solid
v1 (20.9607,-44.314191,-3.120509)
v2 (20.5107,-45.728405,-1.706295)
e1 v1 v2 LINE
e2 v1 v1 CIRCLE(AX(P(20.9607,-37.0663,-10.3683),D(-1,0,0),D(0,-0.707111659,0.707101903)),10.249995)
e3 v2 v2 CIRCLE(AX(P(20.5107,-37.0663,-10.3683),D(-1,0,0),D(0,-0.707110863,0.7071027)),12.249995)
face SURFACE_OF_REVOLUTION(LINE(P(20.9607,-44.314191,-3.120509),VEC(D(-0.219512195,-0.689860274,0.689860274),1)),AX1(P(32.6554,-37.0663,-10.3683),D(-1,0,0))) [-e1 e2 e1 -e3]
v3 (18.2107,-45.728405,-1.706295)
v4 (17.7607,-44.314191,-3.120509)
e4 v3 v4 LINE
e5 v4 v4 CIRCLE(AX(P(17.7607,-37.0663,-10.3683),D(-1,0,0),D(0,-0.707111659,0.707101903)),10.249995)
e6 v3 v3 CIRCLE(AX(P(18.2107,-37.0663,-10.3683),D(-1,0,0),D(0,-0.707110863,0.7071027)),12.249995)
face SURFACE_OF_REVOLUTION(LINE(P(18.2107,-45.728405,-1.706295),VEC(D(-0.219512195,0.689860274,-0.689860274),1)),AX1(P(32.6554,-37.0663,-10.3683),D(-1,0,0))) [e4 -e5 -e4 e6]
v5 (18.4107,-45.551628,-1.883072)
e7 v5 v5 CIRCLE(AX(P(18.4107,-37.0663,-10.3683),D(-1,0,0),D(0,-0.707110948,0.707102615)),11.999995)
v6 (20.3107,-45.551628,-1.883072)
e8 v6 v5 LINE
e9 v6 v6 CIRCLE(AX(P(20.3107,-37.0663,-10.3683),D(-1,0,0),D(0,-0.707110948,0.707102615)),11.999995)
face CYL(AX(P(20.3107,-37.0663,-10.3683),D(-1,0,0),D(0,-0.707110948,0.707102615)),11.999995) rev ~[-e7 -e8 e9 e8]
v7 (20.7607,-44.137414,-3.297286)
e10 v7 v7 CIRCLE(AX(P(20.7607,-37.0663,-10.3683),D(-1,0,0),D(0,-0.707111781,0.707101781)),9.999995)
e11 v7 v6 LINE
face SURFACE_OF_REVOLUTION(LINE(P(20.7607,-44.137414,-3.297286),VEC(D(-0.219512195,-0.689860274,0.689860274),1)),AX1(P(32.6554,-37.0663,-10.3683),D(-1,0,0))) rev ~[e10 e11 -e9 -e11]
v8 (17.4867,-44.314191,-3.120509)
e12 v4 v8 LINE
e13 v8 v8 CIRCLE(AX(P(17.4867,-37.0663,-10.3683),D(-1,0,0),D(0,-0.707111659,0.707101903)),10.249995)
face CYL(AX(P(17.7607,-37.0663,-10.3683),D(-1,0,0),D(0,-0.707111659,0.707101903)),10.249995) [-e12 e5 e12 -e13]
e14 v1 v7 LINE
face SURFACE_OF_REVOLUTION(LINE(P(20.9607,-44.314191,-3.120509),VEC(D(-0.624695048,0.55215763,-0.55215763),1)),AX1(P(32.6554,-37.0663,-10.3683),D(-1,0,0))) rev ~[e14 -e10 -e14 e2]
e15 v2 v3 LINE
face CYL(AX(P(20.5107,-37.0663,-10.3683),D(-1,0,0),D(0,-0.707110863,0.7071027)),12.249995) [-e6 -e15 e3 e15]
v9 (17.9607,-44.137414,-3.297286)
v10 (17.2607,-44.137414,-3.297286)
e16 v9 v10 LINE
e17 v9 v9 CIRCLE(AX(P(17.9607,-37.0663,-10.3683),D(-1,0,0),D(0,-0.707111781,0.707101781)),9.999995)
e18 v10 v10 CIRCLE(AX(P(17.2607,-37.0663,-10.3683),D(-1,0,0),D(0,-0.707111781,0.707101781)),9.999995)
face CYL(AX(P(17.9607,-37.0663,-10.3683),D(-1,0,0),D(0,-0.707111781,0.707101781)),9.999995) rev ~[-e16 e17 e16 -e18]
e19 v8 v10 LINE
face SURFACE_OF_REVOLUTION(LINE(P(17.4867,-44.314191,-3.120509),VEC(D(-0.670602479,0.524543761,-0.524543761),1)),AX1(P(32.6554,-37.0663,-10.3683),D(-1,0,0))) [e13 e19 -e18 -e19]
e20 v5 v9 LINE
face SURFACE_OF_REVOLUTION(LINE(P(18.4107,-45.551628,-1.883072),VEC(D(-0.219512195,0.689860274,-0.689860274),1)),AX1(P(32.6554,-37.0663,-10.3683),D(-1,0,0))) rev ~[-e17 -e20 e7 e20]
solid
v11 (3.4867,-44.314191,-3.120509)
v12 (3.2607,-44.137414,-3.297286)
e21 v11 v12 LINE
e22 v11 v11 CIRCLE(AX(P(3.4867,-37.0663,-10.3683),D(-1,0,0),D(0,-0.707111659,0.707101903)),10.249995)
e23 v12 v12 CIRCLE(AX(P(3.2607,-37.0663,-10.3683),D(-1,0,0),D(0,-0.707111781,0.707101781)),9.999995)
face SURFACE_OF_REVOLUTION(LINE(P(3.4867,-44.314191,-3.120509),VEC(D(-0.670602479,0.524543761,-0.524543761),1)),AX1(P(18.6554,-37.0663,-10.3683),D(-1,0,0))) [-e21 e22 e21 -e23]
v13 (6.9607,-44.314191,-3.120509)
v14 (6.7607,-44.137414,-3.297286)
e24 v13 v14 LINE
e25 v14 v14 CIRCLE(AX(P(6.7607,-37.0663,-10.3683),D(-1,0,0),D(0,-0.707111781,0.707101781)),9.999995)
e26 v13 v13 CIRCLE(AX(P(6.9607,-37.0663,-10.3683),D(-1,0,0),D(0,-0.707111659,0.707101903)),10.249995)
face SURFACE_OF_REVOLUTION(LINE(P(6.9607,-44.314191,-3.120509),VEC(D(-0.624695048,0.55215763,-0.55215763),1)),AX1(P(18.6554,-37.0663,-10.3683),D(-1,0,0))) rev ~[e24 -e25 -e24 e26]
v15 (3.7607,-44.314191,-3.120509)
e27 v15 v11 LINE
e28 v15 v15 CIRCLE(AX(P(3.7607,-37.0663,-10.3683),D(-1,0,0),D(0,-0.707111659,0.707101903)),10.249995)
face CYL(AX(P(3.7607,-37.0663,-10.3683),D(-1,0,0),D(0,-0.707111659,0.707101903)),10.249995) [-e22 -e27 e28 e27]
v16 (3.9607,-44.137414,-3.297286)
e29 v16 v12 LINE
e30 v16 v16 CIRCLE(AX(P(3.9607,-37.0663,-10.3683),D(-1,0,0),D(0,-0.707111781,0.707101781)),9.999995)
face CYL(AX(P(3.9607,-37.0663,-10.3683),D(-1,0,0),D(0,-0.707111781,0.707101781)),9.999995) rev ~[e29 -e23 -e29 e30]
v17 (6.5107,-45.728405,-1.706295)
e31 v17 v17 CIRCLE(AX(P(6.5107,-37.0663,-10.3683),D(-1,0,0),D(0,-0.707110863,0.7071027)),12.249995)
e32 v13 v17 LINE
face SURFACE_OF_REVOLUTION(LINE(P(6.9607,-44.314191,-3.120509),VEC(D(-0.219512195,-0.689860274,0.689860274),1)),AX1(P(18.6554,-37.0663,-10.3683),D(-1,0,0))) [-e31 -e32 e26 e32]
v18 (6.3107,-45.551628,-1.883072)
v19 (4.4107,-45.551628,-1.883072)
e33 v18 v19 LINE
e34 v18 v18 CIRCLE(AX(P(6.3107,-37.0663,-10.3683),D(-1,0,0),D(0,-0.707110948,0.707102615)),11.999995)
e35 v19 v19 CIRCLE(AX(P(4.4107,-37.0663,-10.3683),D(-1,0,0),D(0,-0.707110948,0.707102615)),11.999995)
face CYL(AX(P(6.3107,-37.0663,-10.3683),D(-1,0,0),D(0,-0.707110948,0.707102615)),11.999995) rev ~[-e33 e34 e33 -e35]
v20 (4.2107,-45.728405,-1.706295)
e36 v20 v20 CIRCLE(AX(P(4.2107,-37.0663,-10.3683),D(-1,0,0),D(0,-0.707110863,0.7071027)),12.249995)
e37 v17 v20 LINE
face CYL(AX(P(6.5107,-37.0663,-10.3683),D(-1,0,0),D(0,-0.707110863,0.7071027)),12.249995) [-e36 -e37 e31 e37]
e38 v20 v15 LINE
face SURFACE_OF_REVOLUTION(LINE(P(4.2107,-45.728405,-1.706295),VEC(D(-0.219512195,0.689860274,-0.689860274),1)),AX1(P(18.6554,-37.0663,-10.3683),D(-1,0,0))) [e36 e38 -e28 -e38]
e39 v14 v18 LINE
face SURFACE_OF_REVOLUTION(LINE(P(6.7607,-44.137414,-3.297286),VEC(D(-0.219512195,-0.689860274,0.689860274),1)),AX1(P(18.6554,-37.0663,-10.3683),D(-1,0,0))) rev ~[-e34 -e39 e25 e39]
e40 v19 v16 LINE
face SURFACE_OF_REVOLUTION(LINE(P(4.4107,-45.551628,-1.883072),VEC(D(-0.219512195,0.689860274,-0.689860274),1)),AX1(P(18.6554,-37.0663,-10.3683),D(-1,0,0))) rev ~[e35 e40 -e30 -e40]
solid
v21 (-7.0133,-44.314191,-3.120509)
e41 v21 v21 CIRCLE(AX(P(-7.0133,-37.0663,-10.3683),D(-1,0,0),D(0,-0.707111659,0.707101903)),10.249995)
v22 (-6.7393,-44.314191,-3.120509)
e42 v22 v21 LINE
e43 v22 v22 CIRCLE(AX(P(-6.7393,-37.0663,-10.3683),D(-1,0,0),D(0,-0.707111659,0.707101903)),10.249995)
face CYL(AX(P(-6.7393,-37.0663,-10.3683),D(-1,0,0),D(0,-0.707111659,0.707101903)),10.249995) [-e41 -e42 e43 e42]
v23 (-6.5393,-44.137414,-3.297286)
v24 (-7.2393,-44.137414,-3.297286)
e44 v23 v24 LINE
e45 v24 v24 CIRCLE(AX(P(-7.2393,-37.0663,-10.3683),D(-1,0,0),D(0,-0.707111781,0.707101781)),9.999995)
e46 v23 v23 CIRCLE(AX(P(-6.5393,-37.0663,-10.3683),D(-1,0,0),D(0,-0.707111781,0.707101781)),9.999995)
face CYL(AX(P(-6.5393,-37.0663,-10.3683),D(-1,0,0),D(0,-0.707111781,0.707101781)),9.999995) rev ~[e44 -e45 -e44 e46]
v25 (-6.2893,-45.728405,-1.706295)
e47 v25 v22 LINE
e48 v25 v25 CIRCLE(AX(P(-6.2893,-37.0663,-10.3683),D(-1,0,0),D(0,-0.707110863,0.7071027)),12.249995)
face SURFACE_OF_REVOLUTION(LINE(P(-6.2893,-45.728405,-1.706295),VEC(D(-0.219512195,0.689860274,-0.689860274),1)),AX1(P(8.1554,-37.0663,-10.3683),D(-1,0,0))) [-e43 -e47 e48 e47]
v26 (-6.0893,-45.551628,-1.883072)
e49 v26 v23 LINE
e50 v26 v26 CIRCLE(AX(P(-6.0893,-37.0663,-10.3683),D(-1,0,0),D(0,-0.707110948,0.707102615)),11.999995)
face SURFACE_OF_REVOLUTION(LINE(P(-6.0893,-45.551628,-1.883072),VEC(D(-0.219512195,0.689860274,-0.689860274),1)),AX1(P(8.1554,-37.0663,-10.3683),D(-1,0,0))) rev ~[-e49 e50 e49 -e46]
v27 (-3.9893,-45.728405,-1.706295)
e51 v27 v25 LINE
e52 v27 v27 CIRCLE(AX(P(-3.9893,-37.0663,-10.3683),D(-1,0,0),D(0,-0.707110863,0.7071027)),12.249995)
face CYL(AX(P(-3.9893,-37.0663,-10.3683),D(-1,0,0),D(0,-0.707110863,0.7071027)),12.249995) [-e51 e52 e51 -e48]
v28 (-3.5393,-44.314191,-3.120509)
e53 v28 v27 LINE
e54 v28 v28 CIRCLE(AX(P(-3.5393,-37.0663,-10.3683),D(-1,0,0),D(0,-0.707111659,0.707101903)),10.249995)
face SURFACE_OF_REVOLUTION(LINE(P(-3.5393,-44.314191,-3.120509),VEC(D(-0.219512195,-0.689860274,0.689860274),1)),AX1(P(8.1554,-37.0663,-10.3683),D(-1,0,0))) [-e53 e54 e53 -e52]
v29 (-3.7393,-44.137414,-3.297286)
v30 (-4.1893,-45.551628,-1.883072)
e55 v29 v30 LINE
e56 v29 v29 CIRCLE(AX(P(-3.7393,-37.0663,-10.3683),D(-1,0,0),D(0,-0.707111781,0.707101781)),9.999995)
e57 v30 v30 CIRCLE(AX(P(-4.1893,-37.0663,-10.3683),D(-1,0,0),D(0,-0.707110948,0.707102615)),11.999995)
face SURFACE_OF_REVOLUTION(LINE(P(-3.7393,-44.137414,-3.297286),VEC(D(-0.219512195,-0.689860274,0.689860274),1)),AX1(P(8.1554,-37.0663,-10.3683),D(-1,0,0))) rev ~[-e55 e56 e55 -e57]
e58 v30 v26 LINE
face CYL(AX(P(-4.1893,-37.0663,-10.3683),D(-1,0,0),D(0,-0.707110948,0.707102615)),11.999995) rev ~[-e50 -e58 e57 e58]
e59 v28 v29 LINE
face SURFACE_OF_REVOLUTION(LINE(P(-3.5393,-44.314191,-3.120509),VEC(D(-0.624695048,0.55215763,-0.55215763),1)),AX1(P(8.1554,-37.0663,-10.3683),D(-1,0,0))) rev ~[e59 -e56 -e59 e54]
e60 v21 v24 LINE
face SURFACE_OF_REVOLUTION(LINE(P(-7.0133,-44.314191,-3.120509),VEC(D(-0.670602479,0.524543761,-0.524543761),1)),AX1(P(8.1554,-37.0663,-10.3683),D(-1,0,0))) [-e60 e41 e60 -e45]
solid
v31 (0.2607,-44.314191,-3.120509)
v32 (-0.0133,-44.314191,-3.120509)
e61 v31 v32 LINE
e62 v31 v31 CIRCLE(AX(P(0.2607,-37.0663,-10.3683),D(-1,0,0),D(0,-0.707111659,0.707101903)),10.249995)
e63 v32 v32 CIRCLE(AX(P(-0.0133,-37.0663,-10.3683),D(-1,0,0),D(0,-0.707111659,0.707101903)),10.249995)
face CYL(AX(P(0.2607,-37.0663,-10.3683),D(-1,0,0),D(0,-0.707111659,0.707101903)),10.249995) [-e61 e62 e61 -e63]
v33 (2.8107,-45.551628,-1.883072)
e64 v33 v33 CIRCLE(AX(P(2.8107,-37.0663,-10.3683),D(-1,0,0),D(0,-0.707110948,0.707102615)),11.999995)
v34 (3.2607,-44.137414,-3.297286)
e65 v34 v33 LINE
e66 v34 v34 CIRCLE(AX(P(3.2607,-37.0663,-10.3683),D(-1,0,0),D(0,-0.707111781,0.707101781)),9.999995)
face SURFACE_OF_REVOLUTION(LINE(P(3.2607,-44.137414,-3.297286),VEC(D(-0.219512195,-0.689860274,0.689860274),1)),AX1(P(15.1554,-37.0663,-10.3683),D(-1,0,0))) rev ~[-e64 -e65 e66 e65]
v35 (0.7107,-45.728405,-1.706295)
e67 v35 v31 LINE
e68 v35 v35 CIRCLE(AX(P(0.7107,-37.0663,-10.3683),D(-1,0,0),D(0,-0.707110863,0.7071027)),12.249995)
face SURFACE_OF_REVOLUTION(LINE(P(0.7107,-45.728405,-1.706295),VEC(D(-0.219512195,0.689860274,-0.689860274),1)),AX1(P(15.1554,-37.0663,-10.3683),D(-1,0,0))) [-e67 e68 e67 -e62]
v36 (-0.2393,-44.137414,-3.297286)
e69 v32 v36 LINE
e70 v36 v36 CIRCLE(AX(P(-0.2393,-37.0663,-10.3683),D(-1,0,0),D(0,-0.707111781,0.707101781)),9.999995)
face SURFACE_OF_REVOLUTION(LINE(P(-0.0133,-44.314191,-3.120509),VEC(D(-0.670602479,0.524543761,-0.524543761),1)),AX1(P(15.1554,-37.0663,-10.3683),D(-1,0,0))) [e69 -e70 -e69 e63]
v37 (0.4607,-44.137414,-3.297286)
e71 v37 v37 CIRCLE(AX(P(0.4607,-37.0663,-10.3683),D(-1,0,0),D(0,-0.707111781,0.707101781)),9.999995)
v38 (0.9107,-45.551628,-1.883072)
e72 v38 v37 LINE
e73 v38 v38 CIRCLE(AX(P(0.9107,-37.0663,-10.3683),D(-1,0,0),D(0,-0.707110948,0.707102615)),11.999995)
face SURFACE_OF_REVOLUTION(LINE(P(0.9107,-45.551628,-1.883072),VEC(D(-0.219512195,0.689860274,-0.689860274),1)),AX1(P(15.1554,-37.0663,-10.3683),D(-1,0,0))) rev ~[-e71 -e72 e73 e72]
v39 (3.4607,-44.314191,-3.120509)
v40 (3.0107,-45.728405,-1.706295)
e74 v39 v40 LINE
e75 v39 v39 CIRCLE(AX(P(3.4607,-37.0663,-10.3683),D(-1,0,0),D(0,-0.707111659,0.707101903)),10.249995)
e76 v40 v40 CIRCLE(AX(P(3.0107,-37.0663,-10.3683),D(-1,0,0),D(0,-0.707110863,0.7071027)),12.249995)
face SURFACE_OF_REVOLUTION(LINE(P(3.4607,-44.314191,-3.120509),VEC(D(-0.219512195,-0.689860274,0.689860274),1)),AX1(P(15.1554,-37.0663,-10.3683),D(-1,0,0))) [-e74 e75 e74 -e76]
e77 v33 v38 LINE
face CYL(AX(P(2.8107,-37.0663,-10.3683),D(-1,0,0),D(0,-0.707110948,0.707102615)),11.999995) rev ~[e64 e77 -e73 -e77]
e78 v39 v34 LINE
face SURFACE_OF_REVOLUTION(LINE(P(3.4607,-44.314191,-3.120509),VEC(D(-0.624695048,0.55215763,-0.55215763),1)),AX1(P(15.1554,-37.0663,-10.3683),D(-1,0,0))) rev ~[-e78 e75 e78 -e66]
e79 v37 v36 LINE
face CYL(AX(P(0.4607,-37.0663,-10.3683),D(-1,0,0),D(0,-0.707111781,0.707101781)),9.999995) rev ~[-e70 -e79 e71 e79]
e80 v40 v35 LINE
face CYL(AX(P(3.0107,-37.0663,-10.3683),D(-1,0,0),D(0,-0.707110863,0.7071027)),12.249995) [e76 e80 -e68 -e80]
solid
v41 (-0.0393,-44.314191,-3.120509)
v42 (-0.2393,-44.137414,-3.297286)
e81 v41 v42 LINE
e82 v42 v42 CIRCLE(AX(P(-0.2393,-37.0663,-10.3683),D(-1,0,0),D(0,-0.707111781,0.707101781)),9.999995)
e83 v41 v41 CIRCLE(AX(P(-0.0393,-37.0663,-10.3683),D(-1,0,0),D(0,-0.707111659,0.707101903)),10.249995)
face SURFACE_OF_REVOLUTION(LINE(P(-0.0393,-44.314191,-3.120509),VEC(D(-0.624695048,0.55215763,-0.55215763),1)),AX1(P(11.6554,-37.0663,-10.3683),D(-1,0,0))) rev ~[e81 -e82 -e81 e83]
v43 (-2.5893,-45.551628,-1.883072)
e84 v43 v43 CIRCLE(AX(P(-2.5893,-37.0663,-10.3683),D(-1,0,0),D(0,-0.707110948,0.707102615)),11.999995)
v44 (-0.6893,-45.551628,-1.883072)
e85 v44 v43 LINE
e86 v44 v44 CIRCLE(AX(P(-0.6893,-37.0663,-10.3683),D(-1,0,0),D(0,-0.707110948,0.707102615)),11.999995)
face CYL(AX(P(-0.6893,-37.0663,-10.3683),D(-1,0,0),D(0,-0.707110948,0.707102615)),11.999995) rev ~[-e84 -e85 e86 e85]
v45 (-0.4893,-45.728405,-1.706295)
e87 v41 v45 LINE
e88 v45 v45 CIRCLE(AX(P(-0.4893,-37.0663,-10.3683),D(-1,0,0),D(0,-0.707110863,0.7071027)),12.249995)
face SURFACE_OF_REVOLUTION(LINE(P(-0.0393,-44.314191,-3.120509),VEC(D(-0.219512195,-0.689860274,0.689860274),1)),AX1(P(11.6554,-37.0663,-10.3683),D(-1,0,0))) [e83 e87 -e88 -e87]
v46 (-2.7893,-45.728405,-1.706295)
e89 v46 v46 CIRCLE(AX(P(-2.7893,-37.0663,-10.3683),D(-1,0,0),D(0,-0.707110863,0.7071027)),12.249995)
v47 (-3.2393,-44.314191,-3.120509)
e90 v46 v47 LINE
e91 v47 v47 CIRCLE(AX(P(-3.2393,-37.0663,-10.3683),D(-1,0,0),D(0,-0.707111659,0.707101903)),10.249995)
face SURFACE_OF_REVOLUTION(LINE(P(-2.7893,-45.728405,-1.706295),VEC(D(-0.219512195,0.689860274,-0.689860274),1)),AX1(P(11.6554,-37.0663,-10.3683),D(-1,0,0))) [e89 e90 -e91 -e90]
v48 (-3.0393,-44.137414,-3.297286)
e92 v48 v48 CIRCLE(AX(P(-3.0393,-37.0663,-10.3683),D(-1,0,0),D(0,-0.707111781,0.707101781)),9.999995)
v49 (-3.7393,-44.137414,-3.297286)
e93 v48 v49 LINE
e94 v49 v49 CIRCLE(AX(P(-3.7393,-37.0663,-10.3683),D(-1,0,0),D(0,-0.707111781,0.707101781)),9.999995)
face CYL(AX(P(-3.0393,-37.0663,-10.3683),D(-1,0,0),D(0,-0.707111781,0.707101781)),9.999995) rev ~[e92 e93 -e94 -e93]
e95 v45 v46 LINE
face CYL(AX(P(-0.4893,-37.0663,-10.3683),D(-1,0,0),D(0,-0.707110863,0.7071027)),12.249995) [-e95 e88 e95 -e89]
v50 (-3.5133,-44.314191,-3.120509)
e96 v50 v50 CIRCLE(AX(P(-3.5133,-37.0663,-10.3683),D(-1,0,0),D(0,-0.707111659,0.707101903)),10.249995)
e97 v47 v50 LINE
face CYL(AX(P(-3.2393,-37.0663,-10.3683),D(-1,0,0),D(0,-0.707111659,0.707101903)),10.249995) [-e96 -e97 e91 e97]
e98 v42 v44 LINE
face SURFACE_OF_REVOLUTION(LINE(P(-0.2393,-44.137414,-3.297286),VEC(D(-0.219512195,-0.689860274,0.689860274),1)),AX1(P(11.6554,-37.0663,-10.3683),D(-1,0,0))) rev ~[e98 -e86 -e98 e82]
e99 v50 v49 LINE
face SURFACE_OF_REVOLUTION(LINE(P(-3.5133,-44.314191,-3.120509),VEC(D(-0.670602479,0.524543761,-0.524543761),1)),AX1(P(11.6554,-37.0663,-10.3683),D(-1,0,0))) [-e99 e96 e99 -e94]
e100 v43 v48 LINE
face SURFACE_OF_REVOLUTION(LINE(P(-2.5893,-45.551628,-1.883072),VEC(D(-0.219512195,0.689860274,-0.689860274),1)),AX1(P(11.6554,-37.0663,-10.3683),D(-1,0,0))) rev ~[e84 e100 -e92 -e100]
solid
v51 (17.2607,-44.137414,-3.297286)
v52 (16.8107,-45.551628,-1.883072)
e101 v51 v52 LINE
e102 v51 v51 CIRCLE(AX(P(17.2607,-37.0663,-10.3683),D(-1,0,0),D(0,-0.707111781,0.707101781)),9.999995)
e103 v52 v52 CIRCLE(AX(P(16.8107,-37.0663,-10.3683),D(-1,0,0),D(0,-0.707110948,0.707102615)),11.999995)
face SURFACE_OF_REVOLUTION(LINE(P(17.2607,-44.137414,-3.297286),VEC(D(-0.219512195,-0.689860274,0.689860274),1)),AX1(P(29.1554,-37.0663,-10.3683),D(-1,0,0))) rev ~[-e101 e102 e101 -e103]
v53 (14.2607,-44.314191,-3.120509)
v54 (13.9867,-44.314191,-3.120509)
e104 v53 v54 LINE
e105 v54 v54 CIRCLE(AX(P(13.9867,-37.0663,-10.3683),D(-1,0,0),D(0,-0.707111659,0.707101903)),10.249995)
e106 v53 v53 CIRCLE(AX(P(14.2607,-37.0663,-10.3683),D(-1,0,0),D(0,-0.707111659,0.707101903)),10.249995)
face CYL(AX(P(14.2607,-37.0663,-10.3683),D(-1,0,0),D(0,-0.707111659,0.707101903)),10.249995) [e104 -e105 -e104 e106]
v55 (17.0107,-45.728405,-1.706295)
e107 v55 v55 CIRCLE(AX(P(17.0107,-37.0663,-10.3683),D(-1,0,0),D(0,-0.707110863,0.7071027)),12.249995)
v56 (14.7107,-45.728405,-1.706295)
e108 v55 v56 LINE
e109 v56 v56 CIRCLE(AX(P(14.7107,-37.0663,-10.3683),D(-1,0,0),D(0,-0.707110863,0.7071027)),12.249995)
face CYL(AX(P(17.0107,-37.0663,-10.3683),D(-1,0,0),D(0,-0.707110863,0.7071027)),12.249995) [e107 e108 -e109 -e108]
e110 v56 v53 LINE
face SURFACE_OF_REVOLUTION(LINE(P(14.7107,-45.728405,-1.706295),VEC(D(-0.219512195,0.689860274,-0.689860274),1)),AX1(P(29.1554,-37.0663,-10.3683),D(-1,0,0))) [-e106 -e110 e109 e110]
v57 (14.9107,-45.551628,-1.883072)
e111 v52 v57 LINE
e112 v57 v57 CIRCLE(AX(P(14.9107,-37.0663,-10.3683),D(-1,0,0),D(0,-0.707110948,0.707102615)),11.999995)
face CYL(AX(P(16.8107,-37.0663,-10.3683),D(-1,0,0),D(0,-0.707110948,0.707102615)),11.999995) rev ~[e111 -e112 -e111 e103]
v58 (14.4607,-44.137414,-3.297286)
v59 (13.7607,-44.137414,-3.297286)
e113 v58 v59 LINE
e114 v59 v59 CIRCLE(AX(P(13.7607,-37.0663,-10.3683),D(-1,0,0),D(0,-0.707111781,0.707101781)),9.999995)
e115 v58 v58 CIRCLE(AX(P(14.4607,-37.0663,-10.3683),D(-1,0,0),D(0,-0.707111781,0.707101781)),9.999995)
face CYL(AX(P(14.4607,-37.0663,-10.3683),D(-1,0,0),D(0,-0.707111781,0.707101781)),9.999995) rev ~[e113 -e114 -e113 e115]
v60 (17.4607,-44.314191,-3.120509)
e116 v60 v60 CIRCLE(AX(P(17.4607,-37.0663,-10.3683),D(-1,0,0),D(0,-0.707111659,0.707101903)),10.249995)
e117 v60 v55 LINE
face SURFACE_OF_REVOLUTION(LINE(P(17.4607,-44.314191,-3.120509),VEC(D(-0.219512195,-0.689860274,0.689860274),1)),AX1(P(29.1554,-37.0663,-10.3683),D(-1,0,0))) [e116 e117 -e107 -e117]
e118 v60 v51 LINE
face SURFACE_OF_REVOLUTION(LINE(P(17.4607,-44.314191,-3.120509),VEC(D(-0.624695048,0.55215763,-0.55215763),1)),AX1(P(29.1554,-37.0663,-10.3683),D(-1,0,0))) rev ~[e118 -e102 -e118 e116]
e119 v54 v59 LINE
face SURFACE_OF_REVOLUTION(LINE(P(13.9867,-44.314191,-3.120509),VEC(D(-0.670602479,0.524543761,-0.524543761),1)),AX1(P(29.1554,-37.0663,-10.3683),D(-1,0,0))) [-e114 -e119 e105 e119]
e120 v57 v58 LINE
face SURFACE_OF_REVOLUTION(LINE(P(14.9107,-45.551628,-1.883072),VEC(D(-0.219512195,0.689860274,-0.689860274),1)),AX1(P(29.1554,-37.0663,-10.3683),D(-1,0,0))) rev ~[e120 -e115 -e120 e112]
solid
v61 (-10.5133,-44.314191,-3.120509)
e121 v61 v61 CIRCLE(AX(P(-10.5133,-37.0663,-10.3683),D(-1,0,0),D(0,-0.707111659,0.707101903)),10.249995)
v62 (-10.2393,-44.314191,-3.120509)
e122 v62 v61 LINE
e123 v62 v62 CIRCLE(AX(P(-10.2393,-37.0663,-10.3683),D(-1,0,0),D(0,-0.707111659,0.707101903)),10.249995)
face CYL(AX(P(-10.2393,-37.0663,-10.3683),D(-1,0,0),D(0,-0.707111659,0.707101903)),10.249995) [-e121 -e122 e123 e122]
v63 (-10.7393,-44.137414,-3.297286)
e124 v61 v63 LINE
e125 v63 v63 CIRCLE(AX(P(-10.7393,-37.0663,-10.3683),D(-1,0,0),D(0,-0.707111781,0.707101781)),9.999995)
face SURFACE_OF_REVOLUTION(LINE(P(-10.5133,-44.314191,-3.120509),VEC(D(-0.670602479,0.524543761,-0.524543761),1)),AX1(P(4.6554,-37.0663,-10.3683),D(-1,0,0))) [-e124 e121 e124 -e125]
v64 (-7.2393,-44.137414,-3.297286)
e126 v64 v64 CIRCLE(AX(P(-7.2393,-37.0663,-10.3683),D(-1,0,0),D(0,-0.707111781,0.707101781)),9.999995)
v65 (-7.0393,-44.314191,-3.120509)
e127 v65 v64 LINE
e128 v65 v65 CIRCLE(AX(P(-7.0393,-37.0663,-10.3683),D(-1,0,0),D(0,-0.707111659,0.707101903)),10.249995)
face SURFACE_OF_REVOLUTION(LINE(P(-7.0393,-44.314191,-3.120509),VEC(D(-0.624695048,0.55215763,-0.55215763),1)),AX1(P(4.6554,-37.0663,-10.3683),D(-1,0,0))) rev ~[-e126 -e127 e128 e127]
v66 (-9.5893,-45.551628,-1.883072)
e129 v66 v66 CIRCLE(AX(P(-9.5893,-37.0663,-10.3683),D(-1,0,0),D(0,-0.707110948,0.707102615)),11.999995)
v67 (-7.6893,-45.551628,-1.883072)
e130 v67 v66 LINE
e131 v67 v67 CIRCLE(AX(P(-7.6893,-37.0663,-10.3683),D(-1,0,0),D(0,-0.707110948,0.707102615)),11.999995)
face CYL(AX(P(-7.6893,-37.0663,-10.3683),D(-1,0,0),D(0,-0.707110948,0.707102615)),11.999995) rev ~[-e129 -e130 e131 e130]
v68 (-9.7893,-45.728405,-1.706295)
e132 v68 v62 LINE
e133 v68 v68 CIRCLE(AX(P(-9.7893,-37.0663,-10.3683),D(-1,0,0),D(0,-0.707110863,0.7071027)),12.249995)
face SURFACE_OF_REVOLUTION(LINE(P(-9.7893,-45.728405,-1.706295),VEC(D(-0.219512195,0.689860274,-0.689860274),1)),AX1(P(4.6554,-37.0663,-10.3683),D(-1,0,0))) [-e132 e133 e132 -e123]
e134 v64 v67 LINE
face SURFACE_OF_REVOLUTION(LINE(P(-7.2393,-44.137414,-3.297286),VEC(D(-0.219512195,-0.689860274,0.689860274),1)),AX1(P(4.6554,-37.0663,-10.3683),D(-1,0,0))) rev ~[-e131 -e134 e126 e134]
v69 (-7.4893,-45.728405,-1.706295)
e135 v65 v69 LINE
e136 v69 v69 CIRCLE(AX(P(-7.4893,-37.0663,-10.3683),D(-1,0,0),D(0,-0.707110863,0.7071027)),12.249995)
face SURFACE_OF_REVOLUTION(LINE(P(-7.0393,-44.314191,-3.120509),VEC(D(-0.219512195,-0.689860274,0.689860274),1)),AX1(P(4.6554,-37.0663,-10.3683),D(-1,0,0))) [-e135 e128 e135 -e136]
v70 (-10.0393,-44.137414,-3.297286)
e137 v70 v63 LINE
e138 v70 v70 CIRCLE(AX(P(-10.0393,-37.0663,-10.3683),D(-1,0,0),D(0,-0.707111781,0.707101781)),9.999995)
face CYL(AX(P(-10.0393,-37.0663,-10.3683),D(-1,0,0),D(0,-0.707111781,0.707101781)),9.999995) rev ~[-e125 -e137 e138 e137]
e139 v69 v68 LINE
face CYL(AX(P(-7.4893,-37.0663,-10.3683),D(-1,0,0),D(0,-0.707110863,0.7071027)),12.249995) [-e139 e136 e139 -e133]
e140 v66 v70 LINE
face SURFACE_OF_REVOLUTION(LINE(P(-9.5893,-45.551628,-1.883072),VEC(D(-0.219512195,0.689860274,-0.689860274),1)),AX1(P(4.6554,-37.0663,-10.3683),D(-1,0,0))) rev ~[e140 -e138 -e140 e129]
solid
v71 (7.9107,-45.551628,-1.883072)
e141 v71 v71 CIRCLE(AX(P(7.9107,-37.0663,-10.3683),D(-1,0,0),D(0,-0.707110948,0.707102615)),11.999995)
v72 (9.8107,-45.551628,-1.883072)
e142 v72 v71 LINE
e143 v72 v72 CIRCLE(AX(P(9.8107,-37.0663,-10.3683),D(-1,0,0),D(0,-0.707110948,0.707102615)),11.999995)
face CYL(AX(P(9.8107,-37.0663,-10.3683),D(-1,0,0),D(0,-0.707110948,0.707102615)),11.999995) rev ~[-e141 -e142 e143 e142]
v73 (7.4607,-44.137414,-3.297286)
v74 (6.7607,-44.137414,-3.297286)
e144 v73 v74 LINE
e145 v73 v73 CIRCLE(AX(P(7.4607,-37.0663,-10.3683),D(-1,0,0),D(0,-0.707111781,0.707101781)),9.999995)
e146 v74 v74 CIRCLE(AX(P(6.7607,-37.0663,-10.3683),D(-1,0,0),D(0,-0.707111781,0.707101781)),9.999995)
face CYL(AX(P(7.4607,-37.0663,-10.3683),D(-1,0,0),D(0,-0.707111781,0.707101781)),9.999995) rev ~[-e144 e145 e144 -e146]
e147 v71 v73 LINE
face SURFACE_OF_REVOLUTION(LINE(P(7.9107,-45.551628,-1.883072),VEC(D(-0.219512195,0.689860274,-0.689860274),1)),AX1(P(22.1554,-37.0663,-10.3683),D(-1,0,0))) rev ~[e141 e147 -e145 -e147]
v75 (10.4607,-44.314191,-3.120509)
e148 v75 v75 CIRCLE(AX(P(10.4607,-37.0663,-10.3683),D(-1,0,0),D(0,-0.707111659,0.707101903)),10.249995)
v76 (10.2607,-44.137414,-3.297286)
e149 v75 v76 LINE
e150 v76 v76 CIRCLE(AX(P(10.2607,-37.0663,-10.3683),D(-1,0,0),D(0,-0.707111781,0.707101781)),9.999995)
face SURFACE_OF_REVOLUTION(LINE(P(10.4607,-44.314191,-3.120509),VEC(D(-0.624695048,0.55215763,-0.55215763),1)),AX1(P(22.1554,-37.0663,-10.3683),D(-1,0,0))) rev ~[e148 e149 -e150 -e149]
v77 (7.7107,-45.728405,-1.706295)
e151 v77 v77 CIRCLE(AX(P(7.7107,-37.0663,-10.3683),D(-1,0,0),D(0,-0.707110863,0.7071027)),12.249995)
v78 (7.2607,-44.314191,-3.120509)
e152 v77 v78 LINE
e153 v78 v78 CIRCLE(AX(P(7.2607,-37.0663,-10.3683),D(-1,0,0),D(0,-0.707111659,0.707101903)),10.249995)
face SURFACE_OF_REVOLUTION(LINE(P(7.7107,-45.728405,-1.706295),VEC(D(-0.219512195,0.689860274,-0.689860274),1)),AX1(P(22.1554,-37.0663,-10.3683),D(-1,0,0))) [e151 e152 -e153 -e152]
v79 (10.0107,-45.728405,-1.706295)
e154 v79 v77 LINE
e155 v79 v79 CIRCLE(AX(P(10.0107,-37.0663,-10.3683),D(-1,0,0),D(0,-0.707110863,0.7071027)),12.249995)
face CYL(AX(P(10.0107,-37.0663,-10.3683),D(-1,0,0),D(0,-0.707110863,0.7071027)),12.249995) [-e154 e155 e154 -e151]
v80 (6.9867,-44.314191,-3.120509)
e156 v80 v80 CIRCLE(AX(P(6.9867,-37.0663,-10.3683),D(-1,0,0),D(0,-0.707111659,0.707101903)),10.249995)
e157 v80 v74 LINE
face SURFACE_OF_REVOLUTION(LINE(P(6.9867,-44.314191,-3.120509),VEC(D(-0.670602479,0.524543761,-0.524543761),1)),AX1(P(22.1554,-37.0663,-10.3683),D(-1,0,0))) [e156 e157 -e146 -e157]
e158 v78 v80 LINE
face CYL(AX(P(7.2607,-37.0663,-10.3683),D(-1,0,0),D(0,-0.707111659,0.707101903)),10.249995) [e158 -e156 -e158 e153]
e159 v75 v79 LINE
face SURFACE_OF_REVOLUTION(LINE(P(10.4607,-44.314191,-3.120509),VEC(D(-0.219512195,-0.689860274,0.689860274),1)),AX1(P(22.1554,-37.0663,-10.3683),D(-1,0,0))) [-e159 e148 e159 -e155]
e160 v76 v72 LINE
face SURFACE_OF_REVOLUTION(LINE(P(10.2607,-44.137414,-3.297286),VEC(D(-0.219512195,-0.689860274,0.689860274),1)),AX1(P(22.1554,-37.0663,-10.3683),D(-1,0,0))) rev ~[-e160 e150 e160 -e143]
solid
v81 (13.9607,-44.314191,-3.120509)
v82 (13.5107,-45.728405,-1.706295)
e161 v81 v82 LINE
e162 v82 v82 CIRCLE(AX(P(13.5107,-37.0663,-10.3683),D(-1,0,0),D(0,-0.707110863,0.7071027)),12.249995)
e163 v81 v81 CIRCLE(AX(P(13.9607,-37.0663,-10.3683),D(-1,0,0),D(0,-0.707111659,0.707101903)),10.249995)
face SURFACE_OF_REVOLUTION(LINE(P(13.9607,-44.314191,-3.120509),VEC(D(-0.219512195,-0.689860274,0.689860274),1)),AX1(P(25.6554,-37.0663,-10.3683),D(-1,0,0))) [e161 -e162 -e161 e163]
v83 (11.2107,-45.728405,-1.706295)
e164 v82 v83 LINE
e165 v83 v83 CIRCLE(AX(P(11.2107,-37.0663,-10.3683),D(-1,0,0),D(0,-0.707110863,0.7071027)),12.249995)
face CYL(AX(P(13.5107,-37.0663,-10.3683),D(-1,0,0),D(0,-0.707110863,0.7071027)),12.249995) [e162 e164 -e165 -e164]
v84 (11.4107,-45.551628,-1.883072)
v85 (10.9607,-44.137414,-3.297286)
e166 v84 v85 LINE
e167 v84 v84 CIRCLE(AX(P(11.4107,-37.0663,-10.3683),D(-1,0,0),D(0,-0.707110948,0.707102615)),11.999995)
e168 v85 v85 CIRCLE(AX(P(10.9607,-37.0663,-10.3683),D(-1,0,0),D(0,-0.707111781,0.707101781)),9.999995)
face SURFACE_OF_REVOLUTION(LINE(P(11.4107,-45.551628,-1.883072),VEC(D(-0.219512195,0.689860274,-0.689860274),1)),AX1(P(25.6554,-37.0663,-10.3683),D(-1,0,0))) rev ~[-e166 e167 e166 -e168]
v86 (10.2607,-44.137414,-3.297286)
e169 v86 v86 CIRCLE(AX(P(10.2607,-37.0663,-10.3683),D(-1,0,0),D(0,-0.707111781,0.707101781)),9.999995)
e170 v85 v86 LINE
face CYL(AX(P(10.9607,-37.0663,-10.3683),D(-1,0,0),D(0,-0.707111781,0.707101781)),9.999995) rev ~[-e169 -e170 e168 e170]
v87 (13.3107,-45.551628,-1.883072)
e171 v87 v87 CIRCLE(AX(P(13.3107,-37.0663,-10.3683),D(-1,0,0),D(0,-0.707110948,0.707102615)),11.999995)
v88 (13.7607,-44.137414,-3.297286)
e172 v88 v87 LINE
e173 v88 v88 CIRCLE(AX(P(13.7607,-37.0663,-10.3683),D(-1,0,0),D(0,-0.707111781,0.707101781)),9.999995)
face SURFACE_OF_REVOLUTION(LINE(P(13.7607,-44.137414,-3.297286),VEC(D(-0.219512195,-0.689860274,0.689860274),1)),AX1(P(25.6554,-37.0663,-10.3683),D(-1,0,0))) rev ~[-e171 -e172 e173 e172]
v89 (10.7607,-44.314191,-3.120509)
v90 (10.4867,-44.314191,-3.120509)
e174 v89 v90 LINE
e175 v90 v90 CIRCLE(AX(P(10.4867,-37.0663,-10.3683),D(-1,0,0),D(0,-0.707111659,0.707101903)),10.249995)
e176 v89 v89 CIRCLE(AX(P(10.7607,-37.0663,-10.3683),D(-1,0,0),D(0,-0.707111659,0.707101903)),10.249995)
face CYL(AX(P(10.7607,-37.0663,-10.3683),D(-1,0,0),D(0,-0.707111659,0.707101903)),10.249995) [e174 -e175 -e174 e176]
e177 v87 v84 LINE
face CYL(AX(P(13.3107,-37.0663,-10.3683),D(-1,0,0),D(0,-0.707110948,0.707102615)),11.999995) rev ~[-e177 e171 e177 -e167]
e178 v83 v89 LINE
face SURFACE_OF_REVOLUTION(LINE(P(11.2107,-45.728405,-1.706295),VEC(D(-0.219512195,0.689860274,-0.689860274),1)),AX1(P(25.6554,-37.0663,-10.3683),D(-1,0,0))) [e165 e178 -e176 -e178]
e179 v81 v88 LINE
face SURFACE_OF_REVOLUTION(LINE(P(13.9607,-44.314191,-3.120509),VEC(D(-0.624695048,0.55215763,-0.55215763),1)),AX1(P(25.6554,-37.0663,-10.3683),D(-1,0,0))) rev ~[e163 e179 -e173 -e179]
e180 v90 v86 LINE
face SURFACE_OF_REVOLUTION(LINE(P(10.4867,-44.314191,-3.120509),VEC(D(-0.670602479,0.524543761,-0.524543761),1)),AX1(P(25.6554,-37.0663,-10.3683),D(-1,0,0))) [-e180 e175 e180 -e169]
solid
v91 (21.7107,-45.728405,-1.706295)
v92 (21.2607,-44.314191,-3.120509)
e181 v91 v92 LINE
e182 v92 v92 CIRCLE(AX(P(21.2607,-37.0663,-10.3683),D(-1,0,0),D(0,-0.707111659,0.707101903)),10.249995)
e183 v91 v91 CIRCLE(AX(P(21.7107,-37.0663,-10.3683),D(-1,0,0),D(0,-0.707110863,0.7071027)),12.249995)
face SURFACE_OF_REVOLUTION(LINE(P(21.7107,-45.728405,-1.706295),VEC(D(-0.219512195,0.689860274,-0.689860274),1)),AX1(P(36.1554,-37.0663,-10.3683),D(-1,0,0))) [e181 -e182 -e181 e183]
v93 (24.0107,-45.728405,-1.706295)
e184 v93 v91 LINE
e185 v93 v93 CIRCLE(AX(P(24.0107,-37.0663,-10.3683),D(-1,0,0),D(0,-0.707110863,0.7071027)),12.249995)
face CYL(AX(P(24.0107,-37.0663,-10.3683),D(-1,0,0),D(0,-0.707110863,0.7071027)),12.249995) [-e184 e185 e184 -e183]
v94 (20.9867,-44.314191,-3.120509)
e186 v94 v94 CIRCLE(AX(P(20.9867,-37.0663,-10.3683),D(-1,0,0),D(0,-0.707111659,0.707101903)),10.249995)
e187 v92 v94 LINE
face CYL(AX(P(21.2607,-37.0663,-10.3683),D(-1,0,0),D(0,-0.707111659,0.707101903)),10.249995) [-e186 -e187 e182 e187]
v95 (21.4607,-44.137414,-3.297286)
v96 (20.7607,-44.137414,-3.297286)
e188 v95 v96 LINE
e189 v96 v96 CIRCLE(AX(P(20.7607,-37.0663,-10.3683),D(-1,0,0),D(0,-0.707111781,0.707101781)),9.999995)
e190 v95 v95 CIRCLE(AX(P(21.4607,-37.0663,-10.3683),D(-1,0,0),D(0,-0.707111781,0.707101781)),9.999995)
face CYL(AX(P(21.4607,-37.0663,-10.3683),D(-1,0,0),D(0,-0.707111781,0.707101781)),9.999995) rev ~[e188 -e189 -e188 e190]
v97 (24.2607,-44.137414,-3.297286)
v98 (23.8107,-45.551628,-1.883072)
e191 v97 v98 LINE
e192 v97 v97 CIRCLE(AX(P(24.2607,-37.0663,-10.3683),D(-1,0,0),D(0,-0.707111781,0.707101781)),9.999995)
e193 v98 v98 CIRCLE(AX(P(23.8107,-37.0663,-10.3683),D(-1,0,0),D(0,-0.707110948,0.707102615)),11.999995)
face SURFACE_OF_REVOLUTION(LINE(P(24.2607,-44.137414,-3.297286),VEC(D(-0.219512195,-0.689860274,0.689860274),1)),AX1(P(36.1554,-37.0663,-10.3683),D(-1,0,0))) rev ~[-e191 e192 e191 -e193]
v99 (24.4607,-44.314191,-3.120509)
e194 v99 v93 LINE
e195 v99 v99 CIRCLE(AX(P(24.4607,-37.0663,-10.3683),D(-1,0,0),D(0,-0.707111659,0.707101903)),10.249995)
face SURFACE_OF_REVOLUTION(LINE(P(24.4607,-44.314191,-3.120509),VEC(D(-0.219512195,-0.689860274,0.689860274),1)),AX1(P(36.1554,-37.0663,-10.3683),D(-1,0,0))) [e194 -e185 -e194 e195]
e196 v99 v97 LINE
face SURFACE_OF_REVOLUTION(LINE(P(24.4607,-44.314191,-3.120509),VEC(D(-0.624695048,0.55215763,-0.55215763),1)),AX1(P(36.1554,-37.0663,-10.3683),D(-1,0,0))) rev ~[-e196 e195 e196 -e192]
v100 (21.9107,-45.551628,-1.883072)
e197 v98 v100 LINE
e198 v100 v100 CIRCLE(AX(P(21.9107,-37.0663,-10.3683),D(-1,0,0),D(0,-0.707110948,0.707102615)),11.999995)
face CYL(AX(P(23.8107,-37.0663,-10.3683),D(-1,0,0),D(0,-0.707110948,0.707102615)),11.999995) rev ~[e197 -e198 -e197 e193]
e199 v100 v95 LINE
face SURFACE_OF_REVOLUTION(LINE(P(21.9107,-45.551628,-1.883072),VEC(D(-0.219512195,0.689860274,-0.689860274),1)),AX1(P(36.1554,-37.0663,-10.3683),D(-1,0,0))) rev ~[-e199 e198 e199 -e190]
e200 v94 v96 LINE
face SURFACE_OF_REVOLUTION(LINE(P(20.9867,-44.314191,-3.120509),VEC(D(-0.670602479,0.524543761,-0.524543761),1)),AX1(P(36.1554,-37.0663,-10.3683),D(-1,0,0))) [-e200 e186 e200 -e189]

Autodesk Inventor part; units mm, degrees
ref_plane "YZ Plane" through (0, 0, 0) normal (1, 0, 0) x (0, 1, 0)
ref_plane "XZ Plane" through (0, 0, 0) normal (0, 1, 0) x (-1, 0, 0)
ref_plane "XY Plane" through (0, 0, 0) normal (0, 0, 1) x (1, 0, 0)
ref_plane "Work Plane2" through (-4.3446, -41.309, -6.1257) normal (0, 0.7071, 0.7071) x (0.9904, -0.0979, 0.0979)
sketch "Sketch1" plane through (0, -42.2505, -5.1842) normal (0, 0.7071, 0.7071) x (-1, 0, 0)
  line L0 (-24.2607, 2.6685) -> (-23.8107, 4.6685)
  line L1 (-23.8107, 4.6685) -> (-21.9107, 4.6685)
  line L2 (-21.9107, 4.6685) -> (-21.4607, 2.6685)
  line L3 (-21.4607, 2.6685) -> (-20.7607, 2.6685)
  line L4 (-41.2554, -7.3315) -> (11.9446, -7.3315) projected
  line L5 (4.3446, -1.3315) -> (4.3446, -7.3315) projected
  line L6 (4.3446, -1.3315) -> (-17.207, 1.6821) construction
  line L7 (-24.4607, 2.9185) -> (-24.0107, 4.9185)
  line L8 (-24.0107, 4.9185) -> (-21.7107, 4.9185)
  line L9 (-21.7107, 4.9185) -> (-21.2607, 2.9185)
  line L10 (-21.2607, 2.9185) -> (-20.9867, 2.9185)
  line L11 (-20.9867, 2.9185) -> (-20.7607, 2.6685)
  line L12 (-24.4607, 2.9185) -> (-24.2607, 2.6685)
  line L13 (4.3446, -1.3315) -> (-33.6554, 3.9822) projected
  point P0 (0, -26.2099)
  point P1 (4.3446, -5.8683)
  dimension "d0" = 0.45
  dimension "d1" = 3.5
  dimension "d2" = 0.7
  dimension "d3" = 1.9
  dimension "d13" = 2
  dimension "d15" = 0.25
  dimension "d16" = 0.25
  dimension "d17" = 10
  dimension "d18" = 0.226
revolve "Revolution1" add sketch "Sketch1" angle 360 about axis through (36.1554, -37.0663, -10.3683) along (-1, 0, 0)
pattern_linear "Rectangular Pattern2" count 10 spacing 3.5 along (-1, 0, 0) of "Revolution1"
